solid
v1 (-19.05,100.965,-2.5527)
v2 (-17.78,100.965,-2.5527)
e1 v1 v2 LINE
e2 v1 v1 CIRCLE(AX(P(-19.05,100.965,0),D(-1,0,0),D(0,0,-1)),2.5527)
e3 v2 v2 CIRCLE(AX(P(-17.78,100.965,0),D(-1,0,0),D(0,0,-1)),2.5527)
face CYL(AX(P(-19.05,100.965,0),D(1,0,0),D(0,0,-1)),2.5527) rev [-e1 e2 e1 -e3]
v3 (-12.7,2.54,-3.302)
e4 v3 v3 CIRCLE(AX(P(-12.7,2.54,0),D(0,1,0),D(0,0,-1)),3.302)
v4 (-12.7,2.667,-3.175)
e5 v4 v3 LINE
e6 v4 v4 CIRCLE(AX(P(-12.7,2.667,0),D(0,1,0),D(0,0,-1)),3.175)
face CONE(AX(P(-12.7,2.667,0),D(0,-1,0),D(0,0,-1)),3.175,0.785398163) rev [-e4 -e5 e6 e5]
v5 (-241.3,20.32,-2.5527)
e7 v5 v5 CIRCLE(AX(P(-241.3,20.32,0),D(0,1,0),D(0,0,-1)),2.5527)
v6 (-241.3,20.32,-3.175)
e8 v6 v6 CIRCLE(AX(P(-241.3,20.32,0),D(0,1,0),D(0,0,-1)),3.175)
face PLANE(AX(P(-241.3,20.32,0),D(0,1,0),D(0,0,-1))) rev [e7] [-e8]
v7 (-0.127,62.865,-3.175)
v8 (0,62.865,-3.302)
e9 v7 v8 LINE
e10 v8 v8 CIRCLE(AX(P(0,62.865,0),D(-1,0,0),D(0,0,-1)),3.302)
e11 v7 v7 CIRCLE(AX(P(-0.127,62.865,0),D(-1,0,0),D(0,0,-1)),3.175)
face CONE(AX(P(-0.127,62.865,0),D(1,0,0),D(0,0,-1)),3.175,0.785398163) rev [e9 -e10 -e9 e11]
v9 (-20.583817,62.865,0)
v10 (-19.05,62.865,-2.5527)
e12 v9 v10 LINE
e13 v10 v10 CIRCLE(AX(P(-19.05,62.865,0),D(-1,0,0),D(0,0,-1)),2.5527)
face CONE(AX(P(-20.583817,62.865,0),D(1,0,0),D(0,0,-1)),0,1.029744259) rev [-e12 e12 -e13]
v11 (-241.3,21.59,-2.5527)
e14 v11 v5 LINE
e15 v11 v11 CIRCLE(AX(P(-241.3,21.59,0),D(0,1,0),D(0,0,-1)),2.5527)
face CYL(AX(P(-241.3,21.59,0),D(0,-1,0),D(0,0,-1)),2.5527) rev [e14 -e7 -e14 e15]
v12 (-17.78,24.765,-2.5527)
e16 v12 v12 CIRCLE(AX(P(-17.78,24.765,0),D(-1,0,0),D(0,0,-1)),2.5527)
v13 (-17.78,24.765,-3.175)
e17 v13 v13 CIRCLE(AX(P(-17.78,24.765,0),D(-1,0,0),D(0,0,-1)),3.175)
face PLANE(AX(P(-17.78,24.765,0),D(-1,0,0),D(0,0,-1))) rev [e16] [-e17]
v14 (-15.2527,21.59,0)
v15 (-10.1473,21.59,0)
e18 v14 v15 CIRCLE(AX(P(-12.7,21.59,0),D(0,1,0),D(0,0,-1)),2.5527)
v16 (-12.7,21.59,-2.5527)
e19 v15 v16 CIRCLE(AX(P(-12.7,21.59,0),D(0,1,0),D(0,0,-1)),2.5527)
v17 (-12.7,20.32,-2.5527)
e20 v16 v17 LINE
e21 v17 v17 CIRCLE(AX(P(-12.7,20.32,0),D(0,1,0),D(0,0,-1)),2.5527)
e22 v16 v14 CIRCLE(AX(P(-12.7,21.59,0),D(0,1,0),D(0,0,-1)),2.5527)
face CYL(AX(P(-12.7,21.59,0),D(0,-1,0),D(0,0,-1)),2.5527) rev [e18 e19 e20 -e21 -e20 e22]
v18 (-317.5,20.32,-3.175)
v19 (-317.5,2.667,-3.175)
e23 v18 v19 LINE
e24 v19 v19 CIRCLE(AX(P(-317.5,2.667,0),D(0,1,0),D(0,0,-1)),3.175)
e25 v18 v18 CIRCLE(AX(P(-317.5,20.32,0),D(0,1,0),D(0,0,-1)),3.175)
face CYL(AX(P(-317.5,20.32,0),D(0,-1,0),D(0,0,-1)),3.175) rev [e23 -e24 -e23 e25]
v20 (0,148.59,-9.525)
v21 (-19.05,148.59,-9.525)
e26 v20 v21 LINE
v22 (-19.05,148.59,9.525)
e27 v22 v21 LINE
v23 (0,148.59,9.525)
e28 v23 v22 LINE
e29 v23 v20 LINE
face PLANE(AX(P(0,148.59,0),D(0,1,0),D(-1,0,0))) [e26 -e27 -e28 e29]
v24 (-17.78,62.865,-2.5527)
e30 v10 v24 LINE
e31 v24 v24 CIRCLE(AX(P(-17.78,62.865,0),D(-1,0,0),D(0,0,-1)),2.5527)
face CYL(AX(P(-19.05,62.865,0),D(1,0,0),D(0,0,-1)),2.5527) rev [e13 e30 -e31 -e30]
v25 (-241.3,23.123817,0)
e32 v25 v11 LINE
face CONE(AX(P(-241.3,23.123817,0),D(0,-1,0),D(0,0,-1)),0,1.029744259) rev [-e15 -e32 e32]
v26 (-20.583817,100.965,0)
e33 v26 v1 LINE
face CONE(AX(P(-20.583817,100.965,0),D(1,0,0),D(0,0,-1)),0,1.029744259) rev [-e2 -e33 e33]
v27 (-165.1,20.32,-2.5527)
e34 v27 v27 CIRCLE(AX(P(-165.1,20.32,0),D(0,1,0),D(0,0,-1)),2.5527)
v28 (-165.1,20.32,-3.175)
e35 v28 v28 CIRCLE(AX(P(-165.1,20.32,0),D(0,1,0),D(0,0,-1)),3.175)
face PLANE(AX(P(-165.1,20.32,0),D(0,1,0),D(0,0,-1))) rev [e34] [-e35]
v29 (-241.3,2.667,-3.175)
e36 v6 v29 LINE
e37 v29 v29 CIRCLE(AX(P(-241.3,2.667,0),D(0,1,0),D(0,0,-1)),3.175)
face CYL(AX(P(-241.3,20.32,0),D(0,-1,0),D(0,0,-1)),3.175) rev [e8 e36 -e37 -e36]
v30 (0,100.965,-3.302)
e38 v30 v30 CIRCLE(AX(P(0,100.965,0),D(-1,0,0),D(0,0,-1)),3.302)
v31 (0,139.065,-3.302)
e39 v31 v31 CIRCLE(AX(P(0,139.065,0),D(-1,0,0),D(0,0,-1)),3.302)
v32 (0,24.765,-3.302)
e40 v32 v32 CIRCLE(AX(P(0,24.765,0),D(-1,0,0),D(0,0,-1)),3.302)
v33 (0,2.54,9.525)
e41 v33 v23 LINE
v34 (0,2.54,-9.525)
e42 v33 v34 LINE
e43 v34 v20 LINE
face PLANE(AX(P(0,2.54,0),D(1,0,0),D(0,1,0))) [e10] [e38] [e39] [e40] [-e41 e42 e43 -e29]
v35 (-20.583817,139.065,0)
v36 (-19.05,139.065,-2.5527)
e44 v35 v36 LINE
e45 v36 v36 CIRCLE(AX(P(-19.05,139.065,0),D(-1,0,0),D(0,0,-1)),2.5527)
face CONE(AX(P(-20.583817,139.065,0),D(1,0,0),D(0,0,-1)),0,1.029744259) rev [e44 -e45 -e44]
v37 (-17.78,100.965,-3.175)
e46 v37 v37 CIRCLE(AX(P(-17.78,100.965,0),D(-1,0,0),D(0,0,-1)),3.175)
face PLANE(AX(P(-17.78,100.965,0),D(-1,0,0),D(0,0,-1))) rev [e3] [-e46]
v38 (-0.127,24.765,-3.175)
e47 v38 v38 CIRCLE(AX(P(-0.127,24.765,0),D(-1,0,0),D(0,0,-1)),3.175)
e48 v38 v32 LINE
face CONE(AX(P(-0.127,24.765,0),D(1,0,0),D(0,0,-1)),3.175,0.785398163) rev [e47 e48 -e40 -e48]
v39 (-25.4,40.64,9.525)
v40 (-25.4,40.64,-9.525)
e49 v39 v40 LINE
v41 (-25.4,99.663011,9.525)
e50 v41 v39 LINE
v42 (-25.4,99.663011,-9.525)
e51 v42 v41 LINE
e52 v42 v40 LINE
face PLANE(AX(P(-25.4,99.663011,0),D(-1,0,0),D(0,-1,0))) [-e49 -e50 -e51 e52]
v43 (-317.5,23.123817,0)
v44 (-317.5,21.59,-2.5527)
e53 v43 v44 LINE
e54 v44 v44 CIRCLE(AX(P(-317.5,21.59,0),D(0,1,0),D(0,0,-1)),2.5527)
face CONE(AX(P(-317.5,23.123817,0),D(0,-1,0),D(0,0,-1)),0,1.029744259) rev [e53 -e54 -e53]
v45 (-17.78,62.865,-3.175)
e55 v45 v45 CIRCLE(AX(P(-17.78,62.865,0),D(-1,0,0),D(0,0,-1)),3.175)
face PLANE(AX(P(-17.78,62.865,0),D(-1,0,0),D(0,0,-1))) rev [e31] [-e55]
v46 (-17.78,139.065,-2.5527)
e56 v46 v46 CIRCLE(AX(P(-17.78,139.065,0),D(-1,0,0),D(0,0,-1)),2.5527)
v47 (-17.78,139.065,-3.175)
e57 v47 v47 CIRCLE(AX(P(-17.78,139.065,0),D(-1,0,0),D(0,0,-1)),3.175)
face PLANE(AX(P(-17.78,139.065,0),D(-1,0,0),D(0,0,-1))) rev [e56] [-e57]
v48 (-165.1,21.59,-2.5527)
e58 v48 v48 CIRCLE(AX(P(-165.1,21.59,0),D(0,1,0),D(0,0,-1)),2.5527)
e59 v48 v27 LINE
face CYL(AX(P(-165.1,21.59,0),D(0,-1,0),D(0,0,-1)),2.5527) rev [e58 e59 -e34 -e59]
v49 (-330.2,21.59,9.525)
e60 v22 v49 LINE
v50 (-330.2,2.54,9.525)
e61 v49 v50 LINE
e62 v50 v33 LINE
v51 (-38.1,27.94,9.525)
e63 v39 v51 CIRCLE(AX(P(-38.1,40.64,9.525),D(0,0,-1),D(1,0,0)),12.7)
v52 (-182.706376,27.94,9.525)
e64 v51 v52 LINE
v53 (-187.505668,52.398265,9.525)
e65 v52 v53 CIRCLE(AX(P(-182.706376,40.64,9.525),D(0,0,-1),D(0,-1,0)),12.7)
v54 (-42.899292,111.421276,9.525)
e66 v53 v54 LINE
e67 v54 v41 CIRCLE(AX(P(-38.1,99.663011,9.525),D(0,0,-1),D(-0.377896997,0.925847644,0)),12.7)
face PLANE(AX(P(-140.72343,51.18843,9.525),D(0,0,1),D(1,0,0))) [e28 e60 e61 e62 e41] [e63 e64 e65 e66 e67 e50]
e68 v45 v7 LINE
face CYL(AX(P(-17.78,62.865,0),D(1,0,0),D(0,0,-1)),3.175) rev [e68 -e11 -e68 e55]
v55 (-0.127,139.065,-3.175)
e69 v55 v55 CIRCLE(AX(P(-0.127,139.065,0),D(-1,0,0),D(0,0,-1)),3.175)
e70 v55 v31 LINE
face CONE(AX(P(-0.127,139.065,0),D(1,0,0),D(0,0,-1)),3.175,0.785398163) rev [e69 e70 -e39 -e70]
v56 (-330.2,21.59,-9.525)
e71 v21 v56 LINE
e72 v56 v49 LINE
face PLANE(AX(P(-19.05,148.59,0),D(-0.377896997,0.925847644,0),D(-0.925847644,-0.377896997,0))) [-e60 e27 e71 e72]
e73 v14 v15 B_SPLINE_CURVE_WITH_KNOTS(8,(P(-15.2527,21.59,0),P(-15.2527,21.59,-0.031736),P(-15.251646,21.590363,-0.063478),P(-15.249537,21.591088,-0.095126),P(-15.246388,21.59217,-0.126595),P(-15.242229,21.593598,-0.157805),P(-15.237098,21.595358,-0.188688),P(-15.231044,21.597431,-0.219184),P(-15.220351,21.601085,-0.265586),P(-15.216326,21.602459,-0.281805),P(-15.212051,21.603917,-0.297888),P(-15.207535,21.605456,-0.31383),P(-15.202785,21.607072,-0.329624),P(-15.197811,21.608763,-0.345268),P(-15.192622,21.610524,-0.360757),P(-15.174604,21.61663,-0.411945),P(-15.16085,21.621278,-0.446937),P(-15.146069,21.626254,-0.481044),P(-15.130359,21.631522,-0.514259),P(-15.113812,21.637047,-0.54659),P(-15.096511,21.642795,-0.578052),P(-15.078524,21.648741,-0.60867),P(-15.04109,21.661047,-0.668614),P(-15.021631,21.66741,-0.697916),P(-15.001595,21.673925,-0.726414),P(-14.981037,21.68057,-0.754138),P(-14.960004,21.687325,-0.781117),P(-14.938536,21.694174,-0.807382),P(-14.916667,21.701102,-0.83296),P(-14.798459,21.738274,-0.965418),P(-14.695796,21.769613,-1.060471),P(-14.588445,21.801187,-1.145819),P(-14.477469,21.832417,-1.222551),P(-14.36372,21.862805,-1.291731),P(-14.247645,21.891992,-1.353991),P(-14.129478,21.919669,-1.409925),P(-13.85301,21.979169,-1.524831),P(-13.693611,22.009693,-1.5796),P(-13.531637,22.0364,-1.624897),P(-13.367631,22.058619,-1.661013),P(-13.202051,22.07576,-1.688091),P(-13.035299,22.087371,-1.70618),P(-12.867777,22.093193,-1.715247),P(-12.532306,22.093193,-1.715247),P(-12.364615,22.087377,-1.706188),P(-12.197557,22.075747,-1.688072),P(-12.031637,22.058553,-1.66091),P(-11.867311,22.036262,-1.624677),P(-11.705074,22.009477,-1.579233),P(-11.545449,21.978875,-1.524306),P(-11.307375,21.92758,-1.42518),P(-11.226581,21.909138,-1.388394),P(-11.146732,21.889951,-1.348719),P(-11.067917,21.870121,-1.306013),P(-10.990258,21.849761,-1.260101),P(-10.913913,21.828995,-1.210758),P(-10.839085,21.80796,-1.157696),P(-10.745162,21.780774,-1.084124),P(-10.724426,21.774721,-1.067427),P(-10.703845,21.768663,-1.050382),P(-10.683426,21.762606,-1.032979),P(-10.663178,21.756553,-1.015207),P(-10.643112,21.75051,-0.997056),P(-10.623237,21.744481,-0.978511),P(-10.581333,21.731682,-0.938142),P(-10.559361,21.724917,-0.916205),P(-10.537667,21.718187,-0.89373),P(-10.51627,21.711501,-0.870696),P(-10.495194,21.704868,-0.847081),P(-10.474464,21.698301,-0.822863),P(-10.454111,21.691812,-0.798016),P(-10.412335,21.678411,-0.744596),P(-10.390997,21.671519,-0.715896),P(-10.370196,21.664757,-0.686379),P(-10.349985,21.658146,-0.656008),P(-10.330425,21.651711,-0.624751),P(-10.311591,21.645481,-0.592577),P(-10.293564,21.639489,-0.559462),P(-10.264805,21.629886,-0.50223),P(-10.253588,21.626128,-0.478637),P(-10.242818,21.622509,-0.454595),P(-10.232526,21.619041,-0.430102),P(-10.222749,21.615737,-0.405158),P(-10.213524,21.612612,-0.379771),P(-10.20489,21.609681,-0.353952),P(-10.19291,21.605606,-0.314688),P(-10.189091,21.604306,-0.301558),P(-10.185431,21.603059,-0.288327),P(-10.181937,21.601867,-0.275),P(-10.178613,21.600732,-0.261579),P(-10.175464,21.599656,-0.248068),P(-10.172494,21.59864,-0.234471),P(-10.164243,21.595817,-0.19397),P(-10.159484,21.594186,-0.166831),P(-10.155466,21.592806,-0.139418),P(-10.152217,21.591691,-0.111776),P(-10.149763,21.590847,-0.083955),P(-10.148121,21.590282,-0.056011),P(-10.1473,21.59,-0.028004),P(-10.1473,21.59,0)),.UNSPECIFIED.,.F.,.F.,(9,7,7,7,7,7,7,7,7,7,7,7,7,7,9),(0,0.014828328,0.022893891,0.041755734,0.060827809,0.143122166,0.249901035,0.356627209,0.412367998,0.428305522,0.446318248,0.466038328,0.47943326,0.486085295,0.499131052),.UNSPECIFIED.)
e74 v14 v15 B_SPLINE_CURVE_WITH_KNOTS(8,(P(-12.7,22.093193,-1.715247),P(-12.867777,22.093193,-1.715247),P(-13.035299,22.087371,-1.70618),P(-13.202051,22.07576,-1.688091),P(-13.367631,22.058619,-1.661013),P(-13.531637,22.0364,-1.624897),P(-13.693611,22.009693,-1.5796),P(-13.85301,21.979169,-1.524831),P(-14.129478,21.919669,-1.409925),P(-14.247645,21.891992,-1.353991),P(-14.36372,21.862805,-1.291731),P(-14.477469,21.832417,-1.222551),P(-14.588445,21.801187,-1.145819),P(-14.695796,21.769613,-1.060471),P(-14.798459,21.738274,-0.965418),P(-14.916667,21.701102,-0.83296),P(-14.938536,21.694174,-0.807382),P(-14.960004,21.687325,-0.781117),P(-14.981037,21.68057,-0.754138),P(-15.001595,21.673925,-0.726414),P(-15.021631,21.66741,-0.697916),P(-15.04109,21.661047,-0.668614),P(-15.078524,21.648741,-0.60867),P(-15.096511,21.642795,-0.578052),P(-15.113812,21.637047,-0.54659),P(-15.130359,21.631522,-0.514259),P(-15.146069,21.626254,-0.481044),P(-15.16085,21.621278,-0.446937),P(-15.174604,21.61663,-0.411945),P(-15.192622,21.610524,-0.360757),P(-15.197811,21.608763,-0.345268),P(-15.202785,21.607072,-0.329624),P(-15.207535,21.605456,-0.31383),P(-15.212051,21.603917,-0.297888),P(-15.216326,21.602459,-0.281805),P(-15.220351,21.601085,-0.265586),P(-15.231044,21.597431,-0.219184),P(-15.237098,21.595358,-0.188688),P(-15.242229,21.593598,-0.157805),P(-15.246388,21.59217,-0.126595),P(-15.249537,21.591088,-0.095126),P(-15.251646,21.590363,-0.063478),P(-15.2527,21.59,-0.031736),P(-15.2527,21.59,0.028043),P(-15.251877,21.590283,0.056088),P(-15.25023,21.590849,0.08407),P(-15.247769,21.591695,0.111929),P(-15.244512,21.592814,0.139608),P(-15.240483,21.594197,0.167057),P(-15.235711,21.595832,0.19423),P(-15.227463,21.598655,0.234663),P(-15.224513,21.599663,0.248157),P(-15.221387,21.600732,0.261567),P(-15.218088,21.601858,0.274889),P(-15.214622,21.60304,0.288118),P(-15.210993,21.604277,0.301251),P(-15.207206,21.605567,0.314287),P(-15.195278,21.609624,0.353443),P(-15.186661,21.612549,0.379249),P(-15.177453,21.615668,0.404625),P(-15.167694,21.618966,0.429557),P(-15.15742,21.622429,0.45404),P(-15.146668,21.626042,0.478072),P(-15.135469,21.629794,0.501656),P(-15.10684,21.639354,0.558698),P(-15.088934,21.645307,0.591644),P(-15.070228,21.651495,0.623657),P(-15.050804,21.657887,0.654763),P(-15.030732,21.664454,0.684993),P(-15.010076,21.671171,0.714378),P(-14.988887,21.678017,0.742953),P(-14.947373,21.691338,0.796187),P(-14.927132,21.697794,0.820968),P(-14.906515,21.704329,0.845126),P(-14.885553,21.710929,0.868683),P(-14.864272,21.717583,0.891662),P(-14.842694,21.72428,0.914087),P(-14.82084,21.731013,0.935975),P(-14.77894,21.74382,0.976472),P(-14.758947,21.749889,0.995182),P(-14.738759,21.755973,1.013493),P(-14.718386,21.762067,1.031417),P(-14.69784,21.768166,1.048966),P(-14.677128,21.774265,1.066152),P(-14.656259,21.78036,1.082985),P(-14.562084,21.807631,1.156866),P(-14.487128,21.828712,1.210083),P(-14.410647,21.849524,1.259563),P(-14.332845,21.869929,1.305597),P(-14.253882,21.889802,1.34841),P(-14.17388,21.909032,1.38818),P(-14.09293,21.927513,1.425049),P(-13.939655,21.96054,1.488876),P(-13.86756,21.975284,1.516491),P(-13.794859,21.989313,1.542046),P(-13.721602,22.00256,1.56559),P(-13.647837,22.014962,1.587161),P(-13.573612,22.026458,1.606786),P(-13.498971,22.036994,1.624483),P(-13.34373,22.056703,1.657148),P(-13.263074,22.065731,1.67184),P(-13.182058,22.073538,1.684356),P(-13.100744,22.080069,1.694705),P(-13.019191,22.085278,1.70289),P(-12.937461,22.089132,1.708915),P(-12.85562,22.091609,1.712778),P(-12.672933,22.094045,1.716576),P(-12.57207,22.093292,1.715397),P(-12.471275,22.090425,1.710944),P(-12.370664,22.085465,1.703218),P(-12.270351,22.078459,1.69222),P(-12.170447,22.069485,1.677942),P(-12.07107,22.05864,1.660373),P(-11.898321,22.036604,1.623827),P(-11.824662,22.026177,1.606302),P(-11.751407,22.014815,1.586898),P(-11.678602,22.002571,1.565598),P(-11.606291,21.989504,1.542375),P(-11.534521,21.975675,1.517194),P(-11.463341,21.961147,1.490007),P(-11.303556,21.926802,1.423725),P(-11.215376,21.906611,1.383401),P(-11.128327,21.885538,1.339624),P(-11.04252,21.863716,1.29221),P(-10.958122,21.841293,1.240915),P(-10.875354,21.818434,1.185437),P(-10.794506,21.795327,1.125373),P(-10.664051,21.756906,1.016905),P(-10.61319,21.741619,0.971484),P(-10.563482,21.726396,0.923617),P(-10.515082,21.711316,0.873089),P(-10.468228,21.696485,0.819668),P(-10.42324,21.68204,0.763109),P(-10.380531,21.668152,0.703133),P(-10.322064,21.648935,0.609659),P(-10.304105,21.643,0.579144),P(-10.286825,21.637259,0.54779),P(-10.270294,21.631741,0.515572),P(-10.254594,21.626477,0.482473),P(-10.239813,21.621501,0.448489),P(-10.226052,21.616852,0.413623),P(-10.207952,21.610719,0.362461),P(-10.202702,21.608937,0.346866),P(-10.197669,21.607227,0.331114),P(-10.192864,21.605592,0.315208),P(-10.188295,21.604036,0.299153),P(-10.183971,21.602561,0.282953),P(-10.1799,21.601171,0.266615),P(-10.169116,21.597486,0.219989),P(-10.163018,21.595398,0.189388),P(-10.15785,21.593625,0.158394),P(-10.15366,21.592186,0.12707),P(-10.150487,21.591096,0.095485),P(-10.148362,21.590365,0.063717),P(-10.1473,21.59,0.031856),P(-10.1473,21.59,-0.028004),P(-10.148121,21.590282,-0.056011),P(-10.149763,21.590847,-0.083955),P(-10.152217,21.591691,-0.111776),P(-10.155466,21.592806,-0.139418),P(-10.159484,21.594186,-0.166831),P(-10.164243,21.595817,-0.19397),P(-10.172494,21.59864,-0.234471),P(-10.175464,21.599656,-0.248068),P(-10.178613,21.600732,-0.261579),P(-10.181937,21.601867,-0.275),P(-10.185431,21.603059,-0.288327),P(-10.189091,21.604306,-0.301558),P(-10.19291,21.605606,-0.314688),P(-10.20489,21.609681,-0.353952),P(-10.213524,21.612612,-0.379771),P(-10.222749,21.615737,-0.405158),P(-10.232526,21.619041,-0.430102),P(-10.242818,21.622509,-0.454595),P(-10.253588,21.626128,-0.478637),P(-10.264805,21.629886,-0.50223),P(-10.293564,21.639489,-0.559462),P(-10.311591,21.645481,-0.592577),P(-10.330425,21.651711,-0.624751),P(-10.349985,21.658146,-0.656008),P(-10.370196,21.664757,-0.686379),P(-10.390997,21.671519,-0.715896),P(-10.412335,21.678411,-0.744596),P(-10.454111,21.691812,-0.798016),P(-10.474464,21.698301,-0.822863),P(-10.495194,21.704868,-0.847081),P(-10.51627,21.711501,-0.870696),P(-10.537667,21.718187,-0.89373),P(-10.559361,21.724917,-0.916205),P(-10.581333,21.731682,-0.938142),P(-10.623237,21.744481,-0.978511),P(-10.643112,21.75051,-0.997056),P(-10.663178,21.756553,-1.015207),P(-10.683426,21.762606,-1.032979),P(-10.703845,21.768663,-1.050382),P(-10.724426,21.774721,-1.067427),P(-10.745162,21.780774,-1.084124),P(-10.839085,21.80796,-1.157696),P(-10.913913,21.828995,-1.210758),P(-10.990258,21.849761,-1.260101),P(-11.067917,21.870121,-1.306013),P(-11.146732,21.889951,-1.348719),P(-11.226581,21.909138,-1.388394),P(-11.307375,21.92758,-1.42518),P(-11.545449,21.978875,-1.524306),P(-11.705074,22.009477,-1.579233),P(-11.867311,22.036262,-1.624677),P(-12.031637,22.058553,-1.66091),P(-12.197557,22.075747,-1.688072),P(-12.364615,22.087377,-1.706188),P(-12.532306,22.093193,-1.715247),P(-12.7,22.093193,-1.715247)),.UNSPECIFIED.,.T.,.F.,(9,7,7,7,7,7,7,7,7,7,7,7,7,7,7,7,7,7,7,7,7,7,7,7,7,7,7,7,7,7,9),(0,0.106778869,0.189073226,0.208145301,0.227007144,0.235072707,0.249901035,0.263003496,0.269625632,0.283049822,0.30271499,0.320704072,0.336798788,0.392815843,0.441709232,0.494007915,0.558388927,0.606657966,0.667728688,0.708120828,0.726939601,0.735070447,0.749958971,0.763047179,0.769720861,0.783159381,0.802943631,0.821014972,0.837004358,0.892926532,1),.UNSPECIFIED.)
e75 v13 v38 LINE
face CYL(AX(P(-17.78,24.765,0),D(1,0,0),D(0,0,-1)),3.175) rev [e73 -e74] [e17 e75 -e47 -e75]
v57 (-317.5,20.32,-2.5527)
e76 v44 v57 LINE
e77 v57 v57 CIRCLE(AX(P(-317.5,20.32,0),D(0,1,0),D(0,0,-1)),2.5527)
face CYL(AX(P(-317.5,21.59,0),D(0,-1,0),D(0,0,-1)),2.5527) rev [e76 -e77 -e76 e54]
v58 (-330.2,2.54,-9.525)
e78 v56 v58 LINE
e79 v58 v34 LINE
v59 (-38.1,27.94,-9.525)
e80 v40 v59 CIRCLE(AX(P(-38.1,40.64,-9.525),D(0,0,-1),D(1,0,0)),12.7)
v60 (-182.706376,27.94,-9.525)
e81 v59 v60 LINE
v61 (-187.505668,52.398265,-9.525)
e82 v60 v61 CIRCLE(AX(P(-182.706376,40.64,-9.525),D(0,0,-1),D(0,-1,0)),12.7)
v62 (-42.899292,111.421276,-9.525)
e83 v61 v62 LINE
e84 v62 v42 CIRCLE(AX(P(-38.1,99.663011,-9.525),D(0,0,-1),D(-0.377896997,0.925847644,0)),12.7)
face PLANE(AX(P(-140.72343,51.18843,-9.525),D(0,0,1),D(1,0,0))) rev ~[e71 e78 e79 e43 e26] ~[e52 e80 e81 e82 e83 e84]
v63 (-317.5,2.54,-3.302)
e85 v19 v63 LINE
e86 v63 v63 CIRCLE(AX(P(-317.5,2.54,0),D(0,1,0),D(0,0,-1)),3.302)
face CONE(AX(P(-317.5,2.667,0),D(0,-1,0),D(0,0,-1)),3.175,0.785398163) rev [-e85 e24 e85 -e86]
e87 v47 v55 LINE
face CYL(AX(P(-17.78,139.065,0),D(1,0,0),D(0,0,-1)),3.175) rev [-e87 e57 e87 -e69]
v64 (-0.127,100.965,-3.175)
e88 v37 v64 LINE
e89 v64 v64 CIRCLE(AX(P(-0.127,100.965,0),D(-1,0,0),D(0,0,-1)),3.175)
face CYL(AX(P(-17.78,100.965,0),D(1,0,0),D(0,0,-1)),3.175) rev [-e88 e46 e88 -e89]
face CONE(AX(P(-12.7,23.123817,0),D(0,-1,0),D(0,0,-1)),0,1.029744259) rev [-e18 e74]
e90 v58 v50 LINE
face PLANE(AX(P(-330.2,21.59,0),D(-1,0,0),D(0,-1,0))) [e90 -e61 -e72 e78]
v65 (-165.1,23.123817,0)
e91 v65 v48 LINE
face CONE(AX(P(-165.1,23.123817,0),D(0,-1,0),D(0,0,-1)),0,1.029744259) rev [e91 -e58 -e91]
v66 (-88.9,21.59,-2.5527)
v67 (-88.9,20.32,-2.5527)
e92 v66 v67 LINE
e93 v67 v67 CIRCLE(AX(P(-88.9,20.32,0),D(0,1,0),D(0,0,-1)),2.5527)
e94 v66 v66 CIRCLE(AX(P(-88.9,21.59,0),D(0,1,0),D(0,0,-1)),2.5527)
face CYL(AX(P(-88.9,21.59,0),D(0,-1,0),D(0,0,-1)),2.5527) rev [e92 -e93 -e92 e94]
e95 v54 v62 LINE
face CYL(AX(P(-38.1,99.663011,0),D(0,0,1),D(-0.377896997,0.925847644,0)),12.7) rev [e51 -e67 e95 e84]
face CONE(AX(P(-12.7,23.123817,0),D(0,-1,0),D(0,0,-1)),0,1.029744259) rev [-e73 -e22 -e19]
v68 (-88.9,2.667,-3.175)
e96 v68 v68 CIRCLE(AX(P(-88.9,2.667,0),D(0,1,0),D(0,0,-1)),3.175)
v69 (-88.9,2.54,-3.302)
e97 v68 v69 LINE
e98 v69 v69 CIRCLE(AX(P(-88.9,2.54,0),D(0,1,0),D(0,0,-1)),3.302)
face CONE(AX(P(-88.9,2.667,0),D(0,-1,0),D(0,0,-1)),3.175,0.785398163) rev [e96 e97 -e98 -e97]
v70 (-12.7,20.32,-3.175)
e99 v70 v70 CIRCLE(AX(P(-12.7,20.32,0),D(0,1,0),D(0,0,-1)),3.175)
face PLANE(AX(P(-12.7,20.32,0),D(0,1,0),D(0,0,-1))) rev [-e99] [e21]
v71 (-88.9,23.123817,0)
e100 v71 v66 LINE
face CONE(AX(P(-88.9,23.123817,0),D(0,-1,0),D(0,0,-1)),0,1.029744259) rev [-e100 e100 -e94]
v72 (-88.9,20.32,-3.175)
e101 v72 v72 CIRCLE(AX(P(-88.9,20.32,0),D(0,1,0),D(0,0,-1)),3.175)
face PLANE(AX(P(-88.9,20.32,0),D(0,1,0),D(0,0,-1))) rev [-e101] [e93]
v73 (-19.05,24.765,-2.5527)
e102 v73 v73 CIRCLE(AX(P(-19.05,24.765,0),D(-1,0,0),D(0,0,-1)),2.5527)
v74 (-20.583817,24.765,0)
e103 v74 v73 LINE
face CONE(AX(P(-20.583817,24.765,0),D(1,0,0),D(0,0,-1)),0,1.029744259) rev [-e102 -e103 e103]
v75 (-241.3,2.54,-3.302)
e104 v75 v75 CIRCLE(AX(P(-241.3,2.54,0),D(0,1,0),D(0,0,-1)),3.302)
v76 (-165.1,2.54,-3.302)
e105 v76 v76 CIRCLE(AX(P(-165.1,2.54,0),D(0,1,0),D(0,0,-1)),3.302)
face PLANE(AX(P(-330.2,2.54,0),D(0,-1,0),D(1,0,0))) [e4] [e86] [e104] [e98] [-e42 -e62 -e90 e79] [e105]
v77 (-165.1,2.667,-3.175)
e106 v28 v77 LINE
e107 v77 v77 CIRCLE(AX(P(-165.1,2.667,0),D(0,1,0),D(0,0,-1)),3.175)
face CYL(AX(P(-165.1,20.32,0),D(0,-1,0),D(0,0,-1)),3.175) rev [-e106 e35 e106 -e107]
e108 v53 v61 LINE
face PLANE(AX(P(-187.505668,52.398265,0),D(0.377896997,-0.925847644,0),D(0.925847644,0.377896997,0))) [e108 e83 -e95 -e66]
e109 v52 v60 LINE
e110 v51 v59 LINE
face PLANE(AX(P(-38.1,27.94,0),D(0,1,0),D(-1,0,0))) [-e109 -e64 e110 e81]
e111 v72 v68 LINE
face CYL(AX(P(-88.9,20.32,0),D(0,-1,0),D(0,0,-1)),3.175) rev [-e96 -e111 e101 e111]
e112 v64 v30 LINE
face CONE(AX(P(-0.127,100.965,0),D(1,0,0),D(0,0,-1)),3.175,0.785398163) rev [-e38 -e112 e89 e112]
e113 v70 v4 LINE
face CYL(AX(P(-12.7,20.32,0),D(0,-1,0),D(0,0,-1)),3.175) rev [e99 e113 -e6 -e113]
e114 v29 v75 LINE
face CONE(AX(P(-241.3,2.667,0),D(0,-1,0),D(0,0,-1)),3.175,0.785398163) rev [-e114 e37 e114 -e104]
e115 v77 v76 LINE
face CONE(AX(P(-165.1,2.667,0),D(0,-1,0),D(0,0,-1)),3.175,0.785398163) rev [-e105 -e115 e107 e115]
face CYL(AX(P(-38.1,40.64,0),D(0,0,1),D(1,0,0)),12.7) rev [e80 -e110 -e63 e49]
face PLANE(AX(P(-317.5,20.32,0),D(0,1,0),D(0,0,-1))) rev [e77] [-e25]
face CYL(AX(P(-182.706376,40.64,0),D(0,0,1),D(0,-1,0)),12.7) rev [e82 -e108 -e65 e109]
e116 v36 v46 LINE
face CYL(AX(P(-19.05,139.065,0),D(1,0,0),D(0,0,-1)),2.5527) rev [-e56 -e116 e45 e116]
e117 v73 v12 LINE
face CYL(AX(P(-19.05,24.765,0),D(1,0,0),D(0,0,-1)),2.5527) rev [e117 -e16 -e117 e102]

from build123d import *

# Parameters (mm, degrees)
BOSS_EXTRUDE1_DEPTH              = 9.525
F_1_4_20_TAPPED_HOLE3_AT_2_COUNT = 2
F_1_4_20_TAPPED_HOLE3_AT_2_PITCH = 38.1
F_1_4_20_TAPPED_HOLE3_AT_3_COUNT = 2
F_1_4_20_TAPPED_HOLE3_AT_3_PITCH = 76.2
F_1_4_20_TAPPED_HOLE3_AT_4_COUNT = 2
F_1_4_20_TAPPED_HOLE3_AT_4_PITCH = 114.3
F_1_4_20_TAPPED_HOLE2_AT_2_COUNT = 2
F_1_4_20_TAPPED_HOLE2_AT_2_PITCH = 76.2
F_1_4_20_TAPPED_HOLE2_AT_3_COUNT = 2
F_1_4_20_TAPPED_HOLE2_AT_3_PITCH = 152.4
F_1_4_20_TAPPED_HOLE2_AT_4_COUNT = 2
F_1_4_20_TAPPED_HOLE2_AT_4_PITCH = 228.6
F_1_4_20_TAPPED_HOLE2_AT_5_COUNT = 2
F_1_4_20_TAPPED_HOLE2_AT_5_PITCH = 304.8


with BuildPart() as part:
    # Sketch1 w/mock PCB → Boss-Extrude1 (new body, symmetric)
    with BuildSketch(Plane.XY):
        Polygon((-19.05, 148.59), (-330.2, 21.59), (-330.2, 2.54), (0, 2.54), (0, 148.59), align=None)
        with BuildLine():
            Line((-25.4, 99.663010652), (-25.4, 40.64))
            ThreePointArc((-25.4, 40.64), (-29.119743879, 31.659743879), (-38.1, 27.94))
            Line((-38.1, 27.94), (-182.706376097, 27.94))
            ThreePointArc((-182.706376097, 27.94), (-195.168718703, 38.194592718), (-187.505667965, 52.398265075))
            Line((-187.505667965, 52.398265075), (-42.899291867, 111.421275727))
            ThreePointArc((-42.899291867, 111.421275727), (-31.016957106, 110.20438169), (-25.4, 99.663010652))
        make_face(mode=Mode.SUBTRACT)
    extrude(amount=BOSS_EXTRUDE1_DEPTH, both=True)

    # Sketch6 → 1/4-20 Tapped Hole3 (revolve, cut)
    with BuildSketch(Plane(origin=(0, 139.065, 0), x_dir=(0, 0, -1), z_dir=(0, 1, 0))):
        Polygon((0, 0), (0, 20.583816902), (2.5527, 19.05), (2.5527, 17.78), (3.175, 17.78), (3.175, 0.127), (3.302, 0), align=None)
    f_1_4_20_tapped_hole3 = revolve(axis=Axis((6.35, 139.065, 0), (-1, 0, 0)), mode=Mode.SUBTRACT)

    # 1/4-20 Tapped Hole3 at 2: 1/4-20 Tapped Hole3 ×2
    with Locations(*[(0, -i * F_1_4_20_TAPPED_HOLE3_AT_2_PITCH, 0) for i in range(1, F_1_4_20_TAPPED_HOLE3_AT_2_COUNT)]):
        add(f_1_4_20_tapped_hole3, mode=Mode.SUBTRACT)

    # 1/4-20 Tapped Hole3 at 3: 1/4-20 Tapped Hole3 ×2
    with Locations(*[(0, -i * F_1_4_20_TAPPED_HOLE3_AT_3_PITCH, 0) for i in range(1, F_1_4_20_TAPPED_HOLE3_AT_3_COUNT)]):
        add(f_1_4_20_tapped_hole3, mode=Mode.SUBTRACT)

    # 1/4-20 Tapped Hole3 at 4: 1/4-20 Tapped Hole3 ×2
    with Locations(*[(0, -i * F_1_4_20_TAPPED_HOLE3_AT_4_PITCH, 0) for i in range(1, F_1_4_20_TAPPED_HOLE3_AT_4_COUNT)]):
        add(f_1_4_20_tapped_hole3, mode=Mode.SUBTRACT)

    # Sketch8 → 1/4-20 Tapped Hole2 (revolve, cut)
    with BuildSketch(Plane(origin=(-12.7, 2.54, 0), x_dir=(0, 0, -1), z_dir=(1, 0, 0))):
        Polygon((0, 0), (0, 20.583816902), (2.5527, 19.05), (2.5527, 17.78), (3.175, 17.78), (3.175, 0.127), (3.302, 0), align=None)
    f_1_4_20_tapped_hole2 = revolve(axis=Axis((-12.7, -3.81, 0), (0, 1, 0)), mode=Mode.SUBTRACT)

    # 1/4-20 Tapped Hole2 at 2: 1/4-20 Tapped Hole2 ×2
    with Locations(*[(-i * F_1_4_20_TAPPED_HOLE2_AT_2_PITCH, 0, 0) for i in range(1, F_1_4_20_TAPPED_HOLE2_AT_2_COUNT)]):
        add(f_1_4_20_tapped_hole2, mode=Mode.SUBTRACT)

    # 1/4-20 Tapped Hole2 at 3: 1/4-20 Tapped Hole2 ×2
    with Locations(*[(-i * F_1_4_20_TAPPED_HOLE2_AT_3_PITCH, 0, 0) for i in range(1, F_1_4_20_TAPPED_HOLE2_AT_3_COUNT)]):
        add(f_1_4_20_tapped_hole2, mode=Mode.SUBTRACT)

    # 1/4-20 Tapped Hole2 at 4: 1/4-20 Tapped Hole2 ×2
    with Locations(*[(-i * F_1_4_20_TAPPED_HOLE2_AT_4_PITCH, 0, 0) for i in range(1, F_1_4_20_TAPPED_HOLE2_AT_4_COUNT)]):
        add(f_1_4_20_tapped_hole2, mode=Mode.SUBTRACT)

    # 1/4-20 Tapped Hole2 at 5: 1/4-20 Tapped Hole2 ×2
    with Locations(*[(-i * F_1_4_20_TAPPED_HOLE2_AT_5_PITCH, 0, 0) for i in range(1, F_1_4_20_TAPPED_HOLE2_AT_5_COUNT)]):
        add(f_1_4_20_tapped_hole2, mode=Mode.SUBTRACT)


solid = part.part
